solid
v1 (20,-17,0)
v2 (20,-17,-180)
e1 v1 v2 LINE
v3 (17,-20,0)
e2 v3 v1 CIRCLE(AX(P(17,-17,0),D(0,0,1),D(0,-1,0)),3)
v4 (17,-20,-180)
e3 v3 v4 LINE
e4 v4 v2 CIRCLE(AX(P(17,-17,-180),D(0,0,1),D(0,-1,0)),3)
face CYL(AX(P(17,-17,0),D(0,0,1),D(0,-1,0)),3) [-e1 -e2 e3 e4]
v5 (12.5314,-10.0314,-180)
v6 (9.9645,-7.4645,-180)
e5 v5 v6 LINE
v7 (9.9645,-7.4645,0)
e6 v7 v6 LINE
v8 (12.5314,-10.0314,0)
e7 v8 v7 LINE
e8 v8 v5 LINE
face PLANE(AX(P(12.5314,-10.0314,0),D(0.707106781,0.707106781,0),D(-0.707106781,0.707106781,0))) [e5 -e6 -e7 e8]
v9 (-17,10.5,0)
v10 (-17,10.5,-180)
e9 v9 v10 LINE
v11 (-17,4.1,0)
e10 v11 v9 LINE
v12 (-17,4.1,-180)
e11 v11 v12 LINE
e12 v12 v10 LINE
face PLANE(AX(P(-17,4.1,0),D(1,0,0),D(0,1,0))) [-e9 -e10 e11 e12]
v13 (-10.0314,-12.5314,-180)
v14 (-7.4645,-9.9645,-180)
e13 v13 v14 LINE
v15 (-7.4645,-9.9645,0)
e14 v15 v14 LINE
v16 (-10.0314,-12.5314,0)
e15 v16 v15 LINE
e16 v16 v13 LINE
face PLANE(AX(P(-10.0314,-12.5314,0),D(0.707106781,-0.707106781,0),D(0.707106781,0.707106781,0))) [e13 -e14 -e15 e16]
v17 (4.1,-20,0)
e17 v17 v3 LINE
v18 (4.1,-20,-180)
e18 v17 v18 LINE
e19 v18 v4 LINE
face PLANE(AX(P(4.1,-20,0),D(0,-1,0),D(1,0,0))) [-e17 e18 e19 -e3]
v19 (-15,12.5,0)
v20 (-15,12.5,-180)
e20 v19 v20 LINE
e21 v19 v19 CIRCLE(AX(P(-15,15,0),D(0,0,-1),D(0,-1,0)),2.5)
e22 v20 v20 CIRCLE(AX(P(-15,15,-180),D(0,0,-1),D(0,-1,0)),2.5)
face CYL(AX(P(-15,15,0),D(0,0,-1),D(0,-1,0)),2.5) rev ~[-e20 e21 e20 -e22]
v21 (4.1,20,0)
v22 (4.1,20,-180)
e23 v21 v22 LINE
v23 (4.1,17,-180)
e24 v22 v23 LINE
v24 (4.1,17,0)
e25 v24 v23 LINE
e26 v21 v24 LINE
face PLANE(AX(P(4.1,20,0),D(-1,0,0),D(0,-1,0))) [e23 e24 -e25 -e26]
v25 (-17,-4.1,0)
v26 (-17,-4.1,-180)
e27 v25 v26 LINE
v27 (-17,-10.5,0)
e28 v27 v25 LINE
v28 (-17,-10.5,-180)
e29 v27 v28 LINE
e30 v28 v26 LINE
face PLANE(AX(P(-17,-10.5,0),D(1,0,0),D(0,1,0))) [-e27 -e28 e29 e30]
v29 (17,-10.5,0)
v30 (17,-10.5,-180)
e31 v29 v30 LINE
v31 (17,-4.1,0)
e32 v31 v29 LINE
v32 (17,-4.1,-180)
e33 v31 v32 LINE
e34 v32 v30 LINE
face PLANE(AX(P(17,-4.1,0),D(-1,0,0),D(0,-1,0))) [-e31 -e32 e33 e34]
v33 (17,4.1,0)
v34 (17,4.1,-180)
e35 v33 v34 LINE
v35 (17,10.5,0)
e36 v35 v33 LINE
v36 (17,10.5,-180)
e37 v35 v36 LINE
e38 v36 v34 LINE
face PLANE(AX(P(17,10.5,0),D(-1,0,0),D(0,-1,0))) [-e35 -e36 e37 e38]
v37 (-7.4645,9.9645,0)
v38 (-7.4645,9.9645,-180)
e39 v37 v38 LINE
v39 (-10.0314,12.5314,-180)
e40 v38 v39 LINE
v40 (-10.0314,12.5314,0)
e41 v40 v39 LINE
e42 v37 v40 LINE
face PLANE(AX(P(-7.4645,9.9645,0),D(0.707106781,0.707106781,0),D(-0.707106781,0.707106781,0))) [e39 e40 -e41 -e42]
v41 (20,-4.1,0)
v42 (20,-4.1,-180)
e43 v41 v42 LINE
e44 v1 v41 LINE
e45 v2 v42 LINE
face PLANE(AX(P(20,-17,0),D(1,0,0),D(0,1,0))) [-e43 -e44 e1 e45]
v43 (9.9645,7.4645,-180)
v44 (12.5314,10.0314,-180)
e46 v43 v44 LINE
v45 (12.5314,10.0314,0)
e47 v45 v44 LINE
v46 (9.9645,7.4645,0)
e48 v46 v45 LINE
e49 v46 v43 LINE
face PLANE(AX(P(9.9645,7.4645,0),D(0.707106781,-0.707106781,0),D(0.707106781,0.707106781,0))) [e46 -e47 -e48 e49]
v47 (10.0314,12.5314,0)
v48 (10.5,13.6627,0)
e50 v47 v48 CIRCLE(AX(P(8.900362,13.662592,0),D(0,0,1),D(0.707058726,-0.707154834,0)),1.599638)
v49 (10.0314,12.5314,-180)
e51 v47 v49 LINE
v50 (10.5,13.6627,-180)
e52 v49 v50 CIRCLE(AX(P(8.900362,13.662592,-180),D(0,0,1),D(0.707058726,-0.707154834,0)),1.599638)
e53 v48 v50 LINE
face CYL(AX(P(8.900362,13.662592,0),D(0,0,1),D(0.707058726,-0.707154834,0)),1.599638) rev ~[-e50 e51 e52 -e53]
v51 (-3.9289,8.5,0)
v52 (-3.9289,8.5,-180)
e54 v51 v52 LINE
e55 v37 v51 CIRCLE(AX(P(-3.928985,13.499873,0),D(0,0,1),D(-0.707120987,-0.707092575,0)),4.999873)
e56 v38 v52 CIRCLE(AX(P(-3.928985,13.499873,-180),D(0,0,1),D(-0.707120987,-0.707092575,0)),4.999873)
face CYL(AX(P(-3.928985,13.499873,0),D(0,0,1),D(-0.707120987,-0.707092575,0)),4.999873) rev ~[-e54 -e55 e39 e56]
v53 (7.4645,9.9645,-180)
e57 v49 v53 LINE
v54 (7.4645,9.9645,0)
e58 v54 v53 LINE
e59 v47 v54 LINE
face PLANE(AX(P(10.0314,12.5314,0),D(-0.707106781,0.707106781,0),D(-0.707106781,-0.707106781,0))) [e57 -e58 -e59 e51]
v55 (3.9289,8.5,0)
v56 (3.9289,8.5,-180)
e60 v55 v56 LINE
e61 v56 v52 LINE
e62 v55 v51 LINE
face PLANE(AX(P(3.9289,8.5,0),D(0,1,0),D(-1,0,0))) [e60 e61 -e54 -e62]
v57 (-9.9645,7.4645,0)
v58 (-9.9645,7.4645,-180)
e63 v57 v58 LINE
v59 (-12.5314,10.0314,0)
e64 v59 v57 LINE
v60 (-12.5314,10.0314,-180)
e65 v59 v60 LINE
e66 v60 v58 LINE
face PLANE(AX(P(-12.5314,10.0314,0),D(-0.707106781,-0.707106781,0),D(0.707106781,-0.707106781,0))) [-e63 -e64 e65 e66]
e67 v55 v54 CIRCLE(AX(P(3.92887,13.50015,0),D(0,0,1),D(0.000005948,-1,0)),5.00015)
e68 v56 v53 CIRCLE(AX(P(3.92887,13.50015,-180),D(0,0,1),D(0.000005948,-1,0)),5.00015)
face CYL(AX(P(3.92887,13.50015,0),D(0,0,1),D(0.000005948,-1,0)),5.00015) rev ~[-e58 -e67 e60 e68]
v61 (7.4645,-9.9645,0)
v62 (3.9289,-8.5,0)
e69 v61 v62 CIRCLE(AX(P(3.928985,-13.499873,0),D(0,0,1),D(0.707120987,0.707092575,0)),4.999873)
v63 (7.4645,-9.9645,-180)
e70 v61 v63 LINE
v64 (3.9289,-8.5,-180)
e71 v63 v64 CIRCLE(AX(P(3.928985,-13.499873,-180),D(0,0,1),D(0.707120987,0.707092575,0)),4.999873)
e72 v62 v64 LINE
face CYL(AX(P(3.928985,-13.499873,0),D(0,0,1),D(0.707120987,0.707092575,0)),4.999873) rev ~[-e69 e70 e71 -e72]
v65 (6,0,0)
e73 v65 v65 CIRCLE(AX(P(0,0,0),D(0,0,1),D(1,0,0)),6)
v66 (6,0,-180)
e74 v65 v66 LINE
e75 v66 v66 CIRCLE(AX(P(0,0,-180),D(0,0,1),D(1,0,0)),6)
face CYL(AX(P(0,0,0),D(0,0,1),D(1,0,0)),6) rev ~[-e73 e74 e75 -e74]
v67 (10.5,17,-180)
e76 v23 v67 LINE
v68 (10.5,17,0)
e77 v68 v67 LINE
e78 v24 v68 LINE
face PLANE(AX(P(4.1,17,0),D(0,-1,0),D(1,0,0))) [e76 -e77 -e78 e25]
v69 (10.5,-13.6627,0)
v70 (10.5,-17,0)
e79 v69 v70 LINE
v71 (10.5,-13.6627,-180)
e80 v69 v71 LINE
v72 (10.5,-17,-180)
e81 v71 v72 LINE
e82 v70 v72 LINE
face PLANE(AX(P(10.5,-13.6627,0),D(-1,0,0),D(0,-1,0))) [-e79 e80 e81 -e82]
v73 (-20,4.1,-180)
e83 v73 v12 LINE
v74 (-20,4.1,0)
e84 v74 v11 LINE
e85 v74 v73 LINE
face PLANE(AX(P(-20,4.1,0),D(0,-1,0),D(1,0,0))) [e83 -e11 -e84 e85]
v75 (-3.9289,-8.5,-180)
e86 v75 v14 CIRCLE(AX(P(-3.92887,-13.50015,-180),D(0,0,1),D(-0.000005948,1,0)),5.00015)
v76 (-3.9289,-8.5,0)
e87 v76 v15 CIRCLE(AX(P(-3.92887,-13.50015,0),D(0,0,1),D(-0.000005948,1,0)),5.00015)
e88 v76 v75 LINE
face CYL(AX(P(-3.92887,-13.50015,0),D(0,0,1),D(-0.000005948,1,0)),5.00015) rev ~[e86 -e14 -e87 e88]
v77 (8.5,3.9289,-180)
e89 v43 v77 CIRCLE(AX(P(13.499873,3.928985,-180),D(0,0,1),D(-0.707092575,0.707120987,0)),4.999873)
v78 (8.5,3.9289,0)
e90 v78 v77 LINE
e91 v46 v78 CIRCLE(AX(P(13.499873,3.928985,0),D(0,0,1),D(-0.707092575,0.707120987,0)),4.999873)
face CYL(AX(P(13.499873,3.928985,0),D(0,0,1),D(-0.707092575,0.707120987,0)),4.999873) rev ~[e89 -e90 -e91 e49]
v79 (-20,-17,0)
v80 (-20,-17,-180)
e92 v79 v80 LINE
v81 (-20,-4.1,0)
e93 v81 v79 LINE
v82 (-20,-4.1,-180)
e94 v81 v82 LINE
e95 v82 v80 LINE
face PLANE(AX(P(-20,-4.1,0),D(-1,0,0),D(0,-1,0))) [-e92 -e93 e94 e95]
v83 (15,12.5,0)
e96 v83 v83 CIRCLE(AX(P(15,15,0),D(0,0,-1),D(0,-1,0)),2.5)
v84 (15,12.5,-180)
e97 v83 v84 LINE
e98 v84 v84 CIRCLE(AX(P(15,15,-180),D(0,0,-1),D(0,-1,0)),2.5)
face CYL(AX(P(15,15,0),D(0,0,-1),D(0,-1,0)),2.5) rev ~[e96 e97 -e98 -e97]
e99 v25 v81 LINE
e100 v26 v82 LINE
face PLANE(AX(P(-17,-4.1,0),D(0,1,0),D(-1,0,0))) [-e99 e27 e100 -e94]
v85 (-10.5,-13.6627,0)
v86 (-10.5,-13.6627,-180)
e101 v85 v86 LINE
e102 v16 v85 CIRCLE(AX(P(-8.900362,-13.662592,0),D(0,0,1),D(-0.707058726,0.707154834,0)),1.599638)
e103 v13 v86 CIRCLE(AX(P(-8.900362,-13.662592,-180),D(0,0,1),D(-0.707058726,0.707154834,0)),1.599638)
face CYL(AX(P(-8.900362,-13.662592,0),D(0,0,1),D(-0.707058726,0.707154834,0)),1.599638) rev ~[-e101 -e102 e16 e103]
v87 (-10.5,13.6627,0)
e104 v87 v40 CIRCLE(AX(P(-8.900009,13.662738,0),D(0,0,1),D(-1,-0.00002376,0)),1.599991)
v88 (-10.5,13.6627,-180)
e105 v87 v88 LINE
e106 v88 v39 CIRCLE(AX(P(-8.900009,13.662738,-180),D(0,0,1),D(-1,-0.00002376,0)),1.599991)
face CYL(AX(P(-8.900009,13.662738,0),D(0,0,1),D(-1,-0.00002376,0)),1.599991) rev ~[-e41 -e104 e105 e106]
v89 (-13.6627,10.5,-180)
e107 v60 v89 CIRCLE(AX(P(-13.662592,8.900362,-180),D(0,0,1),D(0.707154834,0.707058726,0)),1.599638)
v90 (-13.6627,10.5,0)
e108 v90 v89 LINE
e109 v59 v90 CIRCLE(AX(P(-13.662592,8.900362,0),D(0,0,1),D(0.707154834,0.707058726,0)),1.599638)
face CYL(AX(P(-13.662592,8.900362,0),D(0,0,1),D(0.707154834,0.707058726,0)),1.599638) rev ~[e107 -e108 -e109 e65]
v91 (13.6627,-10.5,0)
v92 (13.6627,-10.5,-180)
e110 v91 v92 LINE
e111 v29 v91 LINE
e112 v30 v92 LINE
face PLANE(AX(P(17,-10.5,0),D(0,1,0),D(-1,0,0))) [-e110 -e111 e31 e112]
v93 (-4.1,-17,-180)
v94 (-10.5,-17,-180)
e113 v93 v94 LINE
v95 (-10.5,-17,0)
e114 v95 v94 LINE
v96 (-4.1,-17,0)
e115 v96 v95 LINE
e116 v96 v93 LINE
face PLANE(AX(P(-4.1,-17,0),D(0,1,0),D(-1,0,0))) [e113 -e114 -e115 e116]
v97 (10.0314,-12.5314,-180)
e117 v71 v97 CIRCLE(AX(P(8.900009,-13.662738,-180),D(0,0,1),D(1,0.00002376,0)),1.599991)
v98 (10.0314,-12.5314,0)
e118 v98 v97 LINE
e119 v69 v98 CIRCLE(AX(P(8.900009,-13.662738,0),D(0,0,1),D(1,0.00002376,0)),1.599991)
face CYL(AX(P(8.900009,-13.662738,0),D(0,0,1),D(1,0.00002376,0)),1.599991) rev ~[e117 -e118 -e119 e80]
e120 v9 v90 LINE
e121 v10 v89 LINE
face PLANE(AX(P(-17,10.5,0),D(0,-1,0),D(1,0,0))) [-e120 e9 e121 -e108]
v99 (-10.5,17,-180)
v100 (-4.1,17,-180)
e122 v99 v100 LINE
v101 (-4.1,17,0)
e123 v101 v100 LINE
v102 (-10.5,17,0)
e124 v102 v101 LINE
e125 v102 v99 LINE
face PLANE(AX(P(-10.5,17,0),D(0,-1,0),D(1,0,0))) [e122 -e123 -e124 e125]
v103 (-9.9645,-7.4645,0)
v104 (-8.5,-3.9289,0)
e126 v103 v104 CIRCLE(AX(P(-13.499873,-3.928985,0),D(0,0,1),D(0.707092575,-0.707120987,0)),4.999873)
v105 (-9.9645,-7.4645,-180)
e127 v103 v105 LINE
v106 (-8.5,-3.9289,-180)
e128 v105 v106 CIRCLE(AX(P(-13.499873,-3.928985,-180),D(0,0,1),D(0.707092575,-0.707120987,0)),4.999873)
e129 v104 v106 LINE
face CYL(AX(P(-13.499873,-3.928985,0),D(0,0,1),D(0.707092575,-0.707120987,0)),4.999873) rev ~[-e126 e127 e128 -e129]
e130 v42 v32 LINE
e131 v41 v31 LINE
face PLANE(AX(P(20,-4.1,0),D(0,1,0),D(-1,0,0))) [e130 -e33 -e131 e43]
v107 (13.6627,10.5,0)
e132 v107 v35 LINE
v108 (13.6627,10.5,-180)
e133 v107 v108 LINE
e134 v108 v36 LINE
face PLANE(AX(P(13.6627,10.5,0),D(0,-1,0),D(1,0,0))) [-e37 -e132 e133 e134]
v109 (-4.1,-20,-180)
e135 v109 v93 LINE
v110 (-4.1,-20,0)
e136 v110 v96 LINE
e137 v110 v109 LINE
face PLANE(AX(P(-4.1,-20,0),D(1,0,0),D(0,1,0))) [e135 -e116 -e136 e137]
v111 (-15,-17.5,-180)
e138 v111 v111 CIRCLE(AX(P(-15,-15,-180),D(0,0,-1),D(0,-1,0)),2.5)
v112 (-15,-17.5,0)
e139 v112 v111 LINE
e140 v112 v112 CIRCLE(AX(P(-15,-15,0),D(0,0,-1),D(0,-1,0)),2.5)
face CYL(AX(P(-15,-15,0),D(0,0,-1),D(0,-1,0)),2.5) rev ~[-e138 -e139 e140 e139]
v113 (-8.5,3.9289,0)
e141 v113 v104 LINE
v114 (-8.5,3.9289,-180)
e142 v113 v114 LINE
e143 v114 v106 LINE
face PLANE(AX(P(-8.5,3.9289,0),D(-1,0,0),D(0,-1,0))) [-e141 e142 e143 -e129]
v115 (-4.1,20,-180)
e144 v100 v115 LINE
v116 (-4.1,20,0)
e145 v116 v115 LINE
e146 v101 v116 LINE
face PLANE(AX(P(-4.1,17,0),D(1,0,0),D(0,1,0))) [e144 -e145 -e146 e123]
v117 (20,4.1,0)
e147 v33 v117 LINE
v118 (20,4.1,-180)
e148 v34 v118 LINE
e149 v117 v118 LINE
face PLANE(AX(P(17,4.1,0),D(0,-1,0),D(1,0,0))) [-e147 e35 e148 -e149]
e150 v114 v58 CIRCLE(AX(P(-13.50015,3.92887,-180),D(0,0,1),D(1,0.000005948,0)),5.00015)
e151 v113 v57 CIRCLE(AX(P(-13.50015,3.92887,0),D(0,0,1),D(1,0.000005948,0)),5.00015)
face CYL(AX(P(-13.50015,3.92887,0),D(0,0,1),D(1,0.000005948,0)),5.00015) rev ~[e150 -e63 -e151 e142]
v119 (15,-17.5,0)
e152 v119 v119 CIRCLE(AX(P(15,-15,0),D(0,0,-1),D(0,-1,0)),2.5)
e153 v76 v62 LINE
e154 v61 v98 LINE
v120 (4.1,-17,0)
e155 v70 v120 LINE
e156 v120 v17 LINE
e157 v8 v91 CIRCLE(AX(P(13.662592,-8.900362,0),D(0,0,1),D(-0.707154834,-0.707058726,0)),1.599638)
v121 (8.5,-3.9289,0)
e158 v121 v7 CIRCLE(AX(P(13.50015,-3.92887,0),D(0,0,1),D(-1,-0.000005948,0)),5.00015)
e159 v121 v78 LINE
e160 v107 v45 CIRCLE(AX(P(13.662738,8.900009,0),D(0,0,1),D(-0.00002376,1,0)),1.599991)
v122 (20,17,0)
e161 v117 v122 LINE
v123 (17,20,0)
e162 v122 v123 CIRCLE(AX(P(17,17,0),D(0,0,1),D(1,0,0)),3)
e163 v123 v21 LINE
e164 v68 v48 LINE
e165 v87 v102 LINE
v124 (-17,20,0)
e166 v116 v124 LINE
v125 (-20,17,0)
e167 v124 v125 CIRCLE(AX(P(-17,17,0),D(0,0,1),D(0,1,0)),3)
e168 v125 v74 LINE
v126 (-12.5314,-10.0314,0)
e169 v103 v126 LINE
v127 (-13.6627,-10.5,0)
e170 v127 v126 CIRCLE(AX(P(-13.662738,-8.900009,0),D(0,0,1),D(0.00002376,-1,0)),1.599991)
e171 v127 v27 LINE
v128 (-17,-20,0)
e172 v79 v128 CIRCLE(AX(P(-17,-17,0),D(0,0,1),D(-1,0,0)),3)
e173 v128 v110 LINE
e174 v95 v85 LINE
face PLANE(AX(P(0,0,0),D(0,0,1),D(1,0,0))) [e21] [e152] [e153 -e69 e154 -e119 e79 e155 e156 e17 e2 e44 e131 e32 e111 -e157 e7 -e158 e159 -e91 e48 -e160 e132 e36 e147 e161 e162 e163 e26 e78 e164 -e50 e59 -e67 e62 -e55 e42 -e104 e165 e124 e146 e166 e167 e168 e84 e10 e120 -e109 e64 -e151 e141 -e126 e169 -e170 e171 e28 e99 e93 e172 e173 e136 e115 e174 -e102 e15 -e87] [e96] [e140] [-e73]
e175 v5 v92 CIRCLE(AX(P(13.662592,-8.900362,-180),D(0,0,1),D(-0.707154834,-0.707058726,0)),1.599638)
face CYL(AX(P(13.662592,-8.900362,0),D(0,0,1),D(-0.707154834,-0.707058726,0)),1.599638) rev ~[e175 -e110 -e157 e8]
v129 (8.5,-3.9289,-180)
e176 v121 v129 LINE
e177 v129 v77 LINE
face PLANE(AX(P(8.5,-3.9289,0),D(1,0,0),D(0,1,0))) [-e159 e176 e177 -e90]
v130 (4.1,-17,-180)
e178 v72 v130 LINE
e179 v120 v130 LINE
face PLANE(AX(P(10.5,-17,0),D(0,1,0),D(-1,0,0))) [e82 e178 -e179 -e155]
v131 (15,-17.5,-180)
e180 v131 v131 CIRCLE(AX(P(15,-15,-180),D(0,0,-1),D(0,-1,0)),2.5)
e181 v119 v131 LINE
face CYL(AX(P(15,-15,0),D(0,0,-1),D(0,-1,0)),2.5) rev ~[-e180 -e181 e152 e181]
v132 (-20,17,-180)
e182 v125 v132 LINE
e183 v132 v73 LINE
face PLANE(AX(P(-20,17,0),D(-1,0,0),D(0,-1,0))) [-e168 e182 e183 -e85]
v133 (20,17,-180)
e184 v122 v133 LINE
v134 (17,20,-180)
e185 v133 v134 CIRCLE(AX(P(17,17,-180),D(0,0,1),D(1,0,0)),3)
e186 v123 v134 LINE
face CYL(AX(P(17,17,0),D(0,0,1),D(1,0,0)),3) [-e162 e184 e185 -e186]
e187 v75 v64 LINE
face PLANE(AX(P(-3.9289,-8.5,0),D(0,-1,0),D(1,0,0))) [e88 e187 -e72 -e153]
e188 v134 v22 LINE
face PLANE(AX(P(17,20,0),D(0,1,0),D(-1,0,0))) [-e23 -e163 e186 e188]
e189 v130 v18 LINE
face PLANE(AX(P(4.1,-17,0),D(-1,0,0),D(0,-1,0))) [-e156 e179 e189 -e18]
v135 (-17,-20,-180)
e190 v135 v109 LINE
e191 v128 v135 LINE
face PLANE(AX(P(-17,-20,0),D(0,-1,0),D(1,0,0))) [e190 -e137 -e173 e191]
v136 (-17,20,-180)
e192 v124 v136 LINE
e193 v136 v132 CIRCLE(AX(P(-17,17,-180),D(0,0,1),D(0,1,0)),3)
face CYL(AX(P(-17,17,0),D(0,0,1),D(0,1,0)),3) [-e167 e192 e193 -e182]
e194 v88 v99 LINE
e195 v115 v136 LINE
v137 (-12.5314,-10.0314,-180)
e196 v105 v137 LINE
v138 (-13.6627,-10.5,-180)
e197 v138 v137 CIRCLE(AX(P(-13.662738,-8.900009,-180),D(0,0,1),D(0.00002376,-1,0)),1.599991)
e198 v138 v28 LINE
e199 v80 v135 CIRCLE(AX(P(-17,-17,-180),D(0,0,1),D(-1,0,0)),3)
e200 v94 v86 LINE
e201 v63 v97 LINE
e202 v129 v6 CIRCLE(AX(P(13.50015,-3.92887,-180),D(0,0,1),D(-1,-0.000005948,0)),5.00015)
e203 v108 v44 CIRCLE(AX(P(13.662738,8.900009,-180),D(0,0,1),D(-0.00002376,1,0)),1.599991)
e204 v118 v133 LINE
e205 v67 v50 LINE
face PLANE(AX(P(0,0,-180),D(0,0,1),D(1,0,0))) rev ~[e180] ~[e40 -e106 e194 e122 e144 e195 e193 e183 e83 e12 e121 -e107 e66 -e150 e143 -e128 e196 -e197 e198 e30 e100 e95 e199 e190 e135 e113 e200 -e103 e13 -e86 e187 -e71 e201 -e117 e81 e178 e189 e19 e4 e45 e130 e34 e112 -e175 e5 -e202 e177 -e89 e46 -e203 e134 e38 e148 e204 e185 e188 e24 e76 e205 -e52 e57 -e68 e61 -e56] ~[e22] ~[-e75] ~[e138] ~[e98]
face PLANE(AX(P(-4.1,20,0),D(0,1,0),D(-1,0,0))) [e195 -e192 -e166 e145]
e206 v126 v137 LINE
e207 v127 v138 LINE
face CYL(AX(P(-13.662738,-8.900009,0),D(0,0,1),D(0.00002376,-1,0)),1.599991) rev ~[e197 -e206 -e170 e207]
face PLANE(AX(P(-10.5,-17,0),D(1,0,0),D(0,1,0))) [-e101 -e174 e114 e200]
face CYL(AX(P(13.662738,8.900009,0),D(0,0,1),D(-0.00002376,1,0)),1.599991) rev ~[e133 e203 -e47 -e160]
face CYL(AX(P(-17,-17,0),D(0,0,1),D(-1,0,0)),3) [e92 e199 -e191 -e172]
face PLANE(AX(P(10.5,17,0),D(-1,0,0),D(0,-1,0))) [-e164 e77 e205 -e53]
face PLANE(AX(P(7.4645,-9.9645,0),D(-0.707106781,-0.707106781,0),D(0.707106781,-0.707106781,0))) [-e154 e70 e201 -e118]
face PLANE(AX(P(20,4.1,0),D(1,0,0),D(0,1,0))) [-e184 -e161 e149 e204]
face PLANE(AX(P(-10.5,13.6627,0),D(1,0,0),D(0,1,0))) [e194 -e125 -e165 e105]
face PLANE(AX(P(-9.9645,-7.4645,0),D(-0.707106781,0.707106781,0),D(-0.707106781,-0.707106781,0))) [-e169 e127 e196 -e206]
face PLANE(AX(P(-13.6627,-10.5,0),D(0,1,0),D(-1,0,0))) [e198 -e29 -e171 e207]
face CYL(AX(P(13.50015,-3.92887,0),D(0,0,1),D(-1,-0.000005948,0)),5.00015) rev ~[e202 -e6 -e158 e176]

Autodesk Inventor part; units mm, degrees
sketch "Skizze_1" plane through (0, 0, 0) normal (0, 0, 1) x (1, 0, 0)
  arc A0 (-20, -17) -> (-17, -20) centre (-17, -17) ccw
  line L0 (-17, -20) -> (-4.1, -20)
  line L1 (-4.1, -20) -> (-4.1, -17)
  line L2 (-4.1, -17) -> (-10.5, -17)
  line L3 (-10.5, -17) -> (-10.5, -13.6627)
  arc A1 (-10.0314, -12.5314) -> (-10.5, -13.6627) centre (-8.9002, -13.6627) ccw
  line L4 (-10.0314, -12.5314) -> (-7.4645, -9.9645)
  arc A2 (-3.9289, -8.5) -> (-7.4645, -9.9645) centre (-3.9289, -13.5) ccw
  line L5 (-3.9289, -8.5) -> (3.9289, -8.5)
  arc A3 (7.4645, -9.9645) -> (3.9289, -8.5) centre (3.9289, -13.5) ccw
  line L6 (7.4645, -9.9645) -> (10.0314, -12.5314)
  arc A4 (10.5, -13.6627) -> (10.0314, -12.5314) centre (8.9002, -13.6627) ccw
  line L7 (10.5, -13.6627) -> (10.5, -17)
  line L8 (10.5, -17) -> (4.1, -17)
  line L9 (4.1, -17) -> (4.1, -20)
  line L10 (4.1, -20) -> (17, -20)
  arc A5 (17, -20) -> (20, -17) centre (17, -17) ccw
  line L11 (20, -17) -> (20, -4.1)
  line L12 (20, -4.1) -> (17, -4.1)
  line L13 (17, -4.1) -> (17, -10.5)
  line L14 (17, -10.5) -> (13.6627, -10.5)
  arc A6 (12.5314, -10.0314) -> (13.6627, -10.5) centre (13.6627, -8.9002) ccw
  line L15 (12.5314, -10.0314) -> (9.9645, -7.4645)
  arc A7 (8.5, -3.9289) -> (9.9645, -7.4645) centre (13.5, -3.9289) ccw
  line L16 (8.5, -3.9289) -> (8.5, 3.9289)
  arc A8 (9.9645, 7.4645) -> (8.5, 3.9289) centre (13.5, 3.9289) ccw
  line L17 (9.9645, 7.4645) -> (12.5314, 10.0314)
  arc A9 (13.6627, 10.5) -> (12.5314, 10.0314) centre (13.6627, 8.9002) ccw
  line L18 (13.6627, 10.5) -> (17, 10.5)
  line L19 (17, 10.5) -> (17, 4.1)
  line L20 (17, 4.1) -> (20, 4.1)
  line L21 (20, 4.1) -> (20, 17)
  arc A10 (20, 17) -> (17, 20) centre (17, 17) ccw
  line L22 (17, 20) -> (4.1, 20)
  line L23 (4.1, 20) -> (4.1, 17)
  line L24 (4.1, 17) -> (10.5, 17)
  line L25 (10.5, 17) -> (10.5, 13.6627)
  arc A11 (10.0314, 12.5314) -> (10.5, 13.6627) centre (8.9002, 13.6627) ccw
  line L26 (10.0314, 12.5314) -> (7.4645, 9.9645)
  arc A12 (3.9289, 8.5) -> (7.4645, 9.9645) centre (3.9289, 13.5) ccw
  line L27 (3.9289, 8.5) -> (-3.9289, 8.5)
  arc A13 (-7.4645, 9.9645) -> (-3.9289, 8.5) centre (-3.9289, 13.5) ccw
  line L28 (-7.4645, 9.9645) -> (-10.0314, 12.5314)
  arc A14 (-10.5, 13.6627) -> (-10.0314, 12.5314) centre (-8.9002, 13.6627) ccw
  line L29 (-10.5, 13.6627) -> (-10.5, 17)
  line L30 (-10.5, 17) -> (-4.1, 17)
  line L31 (-4.1, 17) -> (-4.1, 20)
  line L32 (-4.1, 20) -> (-17, 20)
  arc A15 (-17, 20) -> (-20, 17) centre (-17, 17) ccw
  line L33 (-20, 17) -> (-20, 4.1)
  line L34 (-20, 4.1) -> (-17, 4.1)
  line L35 (-17, 4.1) -> (-17, 10.5)
  line L36 (-17, 10.5) -> (-13.6627, 10.5)
  arc A16 (-12.5314, 10.0314) -> (-13.6627, 10.5) centre (-13.6627, 8.9002) ccw
  line L37 (-12.5314, 10.0314) -> (-9.9645, 7.4645)
  arc A17 (-8.5, 3.9289) -> (-9.9645, 7.4645) centre (-13.5, 3.9289) ccw
  line L38 (-8.5, 3.9289) -> (-8.5, -3.9289)
  arc A18 (-9.9645, -7.4645) -> (-8.5, -3.9289) centre (-13.5, -3.9289) ccw
  line L39 (-9.9645, -7.4645) -> (-12.5314, -10.0314)
  arc A19 (-13.6627, -10.5) -> (-12.5314, -10.0314) centre (-13.6627, -8.9002) ccw
  line L40 (-13.6627, -10.5) -> (-17, -10.5)
  line L41 (-17, -10.5) -> (-17, -4.1)
  line L42 (-17, -4.1) -> (-20, -4.1)
  line L43 (-20, -4.1) -> (-20, -17)
  circle A20 centre (0, 0) radius 6
extrude "Extrusion1" add sketch "Skizze_1" against normal blind 180
sketch "Sketch2" plane through (0, 0, 0) normal (0, 0, 1) x (1, 0, 0)
  point P0 (-15, -15)
hole "Drilling 1" at (-15, -15, 0) direction (0, 0, -1) diameter 5 depth 6000
sketch "Sketch3" plane through (0, 0, 0) normal (0, 0, 1) x (1, 0, 0)
  point P0 (15, -15)
hole "Drilling 2" at (15, -15, 0) direction (0, 0, -1) diameter 5 depth 6000
sketch "Sketch4" plane through (0, 0, 0) normal (0, 0, 1) x (1, 0, 0)
  point P0 (15, 15)
hole "Drilling 3" at (15, 15, 0) direction (0, 0, -1) diameter 5 depth 6000
sketch "Sketch5" plane through (0, 0, 0) normal (0, 0, 1) x (1, 0, 0)
  point P0 (-15, 15)
hole "Drilling 4" at (-15, 15, 0) direction (0, 0, -1) diameter 5 depth 6000
ref_plane "side_4d_XY" through (-20, 0, -165) normal (-1, 0, 0) x (0, 1, 0)
ref_plane "side_4d_YZ" through (-20, 0, -165) normal (0, 1, 0) x (0, 0, -1)
ref_plane "side_4d_ZX" through (-20, 0, -165) normal (0, 0, -1) x (-1, 0, 0)
ref_plane "side_1a_XY" through (0, 20, -165) normal (0, 1, 0) x (1, 0, 0)
ref_plane "side_1a_YZ" through (0, 20, -165) normal (1, 0, 0) x (0, 0, -1)
ref_plane "side_1a_ZX" through (0, 20, -165) normal (0, 0, -1) x (0, 1, 0)
ref_plane "side_2b_XY" through (20, 0, -165) normal (1, 0, 0) x (0, -1, 0)
ref_plane "side_2b_YZ" through (20, 0, -165) normal (0, -1, 0) x (0, 0, -1)
ref_plane "side_2b_ZX" through (20, 0, -165) normal (0, 0, -1) x (1, 0, 0)
ref_plane "side_3c_XY" through (0, -20, -165) normal (0, -1, 0) x (-1, 0, 0)
ref_plane "side_3c_YZ" through (0, -20, -165) normal (-1, 0, 0) x (0, 0, -1)
ref_plane "side_3c_ZX" through (0, -20, -165) normal (0, 0, -1) x (0, -1, 0)
ref_plane "end_XY" through (0, 0, -330) normal (0, 0, -1) x (1, 0, 0)
ref_plane "end_YZ" through (0, 0, -330) normal (1, 0, 0) x (0, -1, 0)
ref_plane "end_ZX" through (0, 0, -330) normal (0, -1, 0) x (0, 0, -1)
ref_plane "start_XY" through (0, 0, 0) normal (0, 0, 1) x (1, 0, 0)
ref_plane "start_YZ" through (0, 0, 0) normal (1, 0, 0) x (0, 1, 0)
ref_plane "start_ZX" through (0, 0, 0) normal (0, 1, 0) x (0, 0, 1)
properties part number "MayTec 1_11_040040_43S_Profile 40x40, 4E, S_180_Detail_(0;0,0,0)"
